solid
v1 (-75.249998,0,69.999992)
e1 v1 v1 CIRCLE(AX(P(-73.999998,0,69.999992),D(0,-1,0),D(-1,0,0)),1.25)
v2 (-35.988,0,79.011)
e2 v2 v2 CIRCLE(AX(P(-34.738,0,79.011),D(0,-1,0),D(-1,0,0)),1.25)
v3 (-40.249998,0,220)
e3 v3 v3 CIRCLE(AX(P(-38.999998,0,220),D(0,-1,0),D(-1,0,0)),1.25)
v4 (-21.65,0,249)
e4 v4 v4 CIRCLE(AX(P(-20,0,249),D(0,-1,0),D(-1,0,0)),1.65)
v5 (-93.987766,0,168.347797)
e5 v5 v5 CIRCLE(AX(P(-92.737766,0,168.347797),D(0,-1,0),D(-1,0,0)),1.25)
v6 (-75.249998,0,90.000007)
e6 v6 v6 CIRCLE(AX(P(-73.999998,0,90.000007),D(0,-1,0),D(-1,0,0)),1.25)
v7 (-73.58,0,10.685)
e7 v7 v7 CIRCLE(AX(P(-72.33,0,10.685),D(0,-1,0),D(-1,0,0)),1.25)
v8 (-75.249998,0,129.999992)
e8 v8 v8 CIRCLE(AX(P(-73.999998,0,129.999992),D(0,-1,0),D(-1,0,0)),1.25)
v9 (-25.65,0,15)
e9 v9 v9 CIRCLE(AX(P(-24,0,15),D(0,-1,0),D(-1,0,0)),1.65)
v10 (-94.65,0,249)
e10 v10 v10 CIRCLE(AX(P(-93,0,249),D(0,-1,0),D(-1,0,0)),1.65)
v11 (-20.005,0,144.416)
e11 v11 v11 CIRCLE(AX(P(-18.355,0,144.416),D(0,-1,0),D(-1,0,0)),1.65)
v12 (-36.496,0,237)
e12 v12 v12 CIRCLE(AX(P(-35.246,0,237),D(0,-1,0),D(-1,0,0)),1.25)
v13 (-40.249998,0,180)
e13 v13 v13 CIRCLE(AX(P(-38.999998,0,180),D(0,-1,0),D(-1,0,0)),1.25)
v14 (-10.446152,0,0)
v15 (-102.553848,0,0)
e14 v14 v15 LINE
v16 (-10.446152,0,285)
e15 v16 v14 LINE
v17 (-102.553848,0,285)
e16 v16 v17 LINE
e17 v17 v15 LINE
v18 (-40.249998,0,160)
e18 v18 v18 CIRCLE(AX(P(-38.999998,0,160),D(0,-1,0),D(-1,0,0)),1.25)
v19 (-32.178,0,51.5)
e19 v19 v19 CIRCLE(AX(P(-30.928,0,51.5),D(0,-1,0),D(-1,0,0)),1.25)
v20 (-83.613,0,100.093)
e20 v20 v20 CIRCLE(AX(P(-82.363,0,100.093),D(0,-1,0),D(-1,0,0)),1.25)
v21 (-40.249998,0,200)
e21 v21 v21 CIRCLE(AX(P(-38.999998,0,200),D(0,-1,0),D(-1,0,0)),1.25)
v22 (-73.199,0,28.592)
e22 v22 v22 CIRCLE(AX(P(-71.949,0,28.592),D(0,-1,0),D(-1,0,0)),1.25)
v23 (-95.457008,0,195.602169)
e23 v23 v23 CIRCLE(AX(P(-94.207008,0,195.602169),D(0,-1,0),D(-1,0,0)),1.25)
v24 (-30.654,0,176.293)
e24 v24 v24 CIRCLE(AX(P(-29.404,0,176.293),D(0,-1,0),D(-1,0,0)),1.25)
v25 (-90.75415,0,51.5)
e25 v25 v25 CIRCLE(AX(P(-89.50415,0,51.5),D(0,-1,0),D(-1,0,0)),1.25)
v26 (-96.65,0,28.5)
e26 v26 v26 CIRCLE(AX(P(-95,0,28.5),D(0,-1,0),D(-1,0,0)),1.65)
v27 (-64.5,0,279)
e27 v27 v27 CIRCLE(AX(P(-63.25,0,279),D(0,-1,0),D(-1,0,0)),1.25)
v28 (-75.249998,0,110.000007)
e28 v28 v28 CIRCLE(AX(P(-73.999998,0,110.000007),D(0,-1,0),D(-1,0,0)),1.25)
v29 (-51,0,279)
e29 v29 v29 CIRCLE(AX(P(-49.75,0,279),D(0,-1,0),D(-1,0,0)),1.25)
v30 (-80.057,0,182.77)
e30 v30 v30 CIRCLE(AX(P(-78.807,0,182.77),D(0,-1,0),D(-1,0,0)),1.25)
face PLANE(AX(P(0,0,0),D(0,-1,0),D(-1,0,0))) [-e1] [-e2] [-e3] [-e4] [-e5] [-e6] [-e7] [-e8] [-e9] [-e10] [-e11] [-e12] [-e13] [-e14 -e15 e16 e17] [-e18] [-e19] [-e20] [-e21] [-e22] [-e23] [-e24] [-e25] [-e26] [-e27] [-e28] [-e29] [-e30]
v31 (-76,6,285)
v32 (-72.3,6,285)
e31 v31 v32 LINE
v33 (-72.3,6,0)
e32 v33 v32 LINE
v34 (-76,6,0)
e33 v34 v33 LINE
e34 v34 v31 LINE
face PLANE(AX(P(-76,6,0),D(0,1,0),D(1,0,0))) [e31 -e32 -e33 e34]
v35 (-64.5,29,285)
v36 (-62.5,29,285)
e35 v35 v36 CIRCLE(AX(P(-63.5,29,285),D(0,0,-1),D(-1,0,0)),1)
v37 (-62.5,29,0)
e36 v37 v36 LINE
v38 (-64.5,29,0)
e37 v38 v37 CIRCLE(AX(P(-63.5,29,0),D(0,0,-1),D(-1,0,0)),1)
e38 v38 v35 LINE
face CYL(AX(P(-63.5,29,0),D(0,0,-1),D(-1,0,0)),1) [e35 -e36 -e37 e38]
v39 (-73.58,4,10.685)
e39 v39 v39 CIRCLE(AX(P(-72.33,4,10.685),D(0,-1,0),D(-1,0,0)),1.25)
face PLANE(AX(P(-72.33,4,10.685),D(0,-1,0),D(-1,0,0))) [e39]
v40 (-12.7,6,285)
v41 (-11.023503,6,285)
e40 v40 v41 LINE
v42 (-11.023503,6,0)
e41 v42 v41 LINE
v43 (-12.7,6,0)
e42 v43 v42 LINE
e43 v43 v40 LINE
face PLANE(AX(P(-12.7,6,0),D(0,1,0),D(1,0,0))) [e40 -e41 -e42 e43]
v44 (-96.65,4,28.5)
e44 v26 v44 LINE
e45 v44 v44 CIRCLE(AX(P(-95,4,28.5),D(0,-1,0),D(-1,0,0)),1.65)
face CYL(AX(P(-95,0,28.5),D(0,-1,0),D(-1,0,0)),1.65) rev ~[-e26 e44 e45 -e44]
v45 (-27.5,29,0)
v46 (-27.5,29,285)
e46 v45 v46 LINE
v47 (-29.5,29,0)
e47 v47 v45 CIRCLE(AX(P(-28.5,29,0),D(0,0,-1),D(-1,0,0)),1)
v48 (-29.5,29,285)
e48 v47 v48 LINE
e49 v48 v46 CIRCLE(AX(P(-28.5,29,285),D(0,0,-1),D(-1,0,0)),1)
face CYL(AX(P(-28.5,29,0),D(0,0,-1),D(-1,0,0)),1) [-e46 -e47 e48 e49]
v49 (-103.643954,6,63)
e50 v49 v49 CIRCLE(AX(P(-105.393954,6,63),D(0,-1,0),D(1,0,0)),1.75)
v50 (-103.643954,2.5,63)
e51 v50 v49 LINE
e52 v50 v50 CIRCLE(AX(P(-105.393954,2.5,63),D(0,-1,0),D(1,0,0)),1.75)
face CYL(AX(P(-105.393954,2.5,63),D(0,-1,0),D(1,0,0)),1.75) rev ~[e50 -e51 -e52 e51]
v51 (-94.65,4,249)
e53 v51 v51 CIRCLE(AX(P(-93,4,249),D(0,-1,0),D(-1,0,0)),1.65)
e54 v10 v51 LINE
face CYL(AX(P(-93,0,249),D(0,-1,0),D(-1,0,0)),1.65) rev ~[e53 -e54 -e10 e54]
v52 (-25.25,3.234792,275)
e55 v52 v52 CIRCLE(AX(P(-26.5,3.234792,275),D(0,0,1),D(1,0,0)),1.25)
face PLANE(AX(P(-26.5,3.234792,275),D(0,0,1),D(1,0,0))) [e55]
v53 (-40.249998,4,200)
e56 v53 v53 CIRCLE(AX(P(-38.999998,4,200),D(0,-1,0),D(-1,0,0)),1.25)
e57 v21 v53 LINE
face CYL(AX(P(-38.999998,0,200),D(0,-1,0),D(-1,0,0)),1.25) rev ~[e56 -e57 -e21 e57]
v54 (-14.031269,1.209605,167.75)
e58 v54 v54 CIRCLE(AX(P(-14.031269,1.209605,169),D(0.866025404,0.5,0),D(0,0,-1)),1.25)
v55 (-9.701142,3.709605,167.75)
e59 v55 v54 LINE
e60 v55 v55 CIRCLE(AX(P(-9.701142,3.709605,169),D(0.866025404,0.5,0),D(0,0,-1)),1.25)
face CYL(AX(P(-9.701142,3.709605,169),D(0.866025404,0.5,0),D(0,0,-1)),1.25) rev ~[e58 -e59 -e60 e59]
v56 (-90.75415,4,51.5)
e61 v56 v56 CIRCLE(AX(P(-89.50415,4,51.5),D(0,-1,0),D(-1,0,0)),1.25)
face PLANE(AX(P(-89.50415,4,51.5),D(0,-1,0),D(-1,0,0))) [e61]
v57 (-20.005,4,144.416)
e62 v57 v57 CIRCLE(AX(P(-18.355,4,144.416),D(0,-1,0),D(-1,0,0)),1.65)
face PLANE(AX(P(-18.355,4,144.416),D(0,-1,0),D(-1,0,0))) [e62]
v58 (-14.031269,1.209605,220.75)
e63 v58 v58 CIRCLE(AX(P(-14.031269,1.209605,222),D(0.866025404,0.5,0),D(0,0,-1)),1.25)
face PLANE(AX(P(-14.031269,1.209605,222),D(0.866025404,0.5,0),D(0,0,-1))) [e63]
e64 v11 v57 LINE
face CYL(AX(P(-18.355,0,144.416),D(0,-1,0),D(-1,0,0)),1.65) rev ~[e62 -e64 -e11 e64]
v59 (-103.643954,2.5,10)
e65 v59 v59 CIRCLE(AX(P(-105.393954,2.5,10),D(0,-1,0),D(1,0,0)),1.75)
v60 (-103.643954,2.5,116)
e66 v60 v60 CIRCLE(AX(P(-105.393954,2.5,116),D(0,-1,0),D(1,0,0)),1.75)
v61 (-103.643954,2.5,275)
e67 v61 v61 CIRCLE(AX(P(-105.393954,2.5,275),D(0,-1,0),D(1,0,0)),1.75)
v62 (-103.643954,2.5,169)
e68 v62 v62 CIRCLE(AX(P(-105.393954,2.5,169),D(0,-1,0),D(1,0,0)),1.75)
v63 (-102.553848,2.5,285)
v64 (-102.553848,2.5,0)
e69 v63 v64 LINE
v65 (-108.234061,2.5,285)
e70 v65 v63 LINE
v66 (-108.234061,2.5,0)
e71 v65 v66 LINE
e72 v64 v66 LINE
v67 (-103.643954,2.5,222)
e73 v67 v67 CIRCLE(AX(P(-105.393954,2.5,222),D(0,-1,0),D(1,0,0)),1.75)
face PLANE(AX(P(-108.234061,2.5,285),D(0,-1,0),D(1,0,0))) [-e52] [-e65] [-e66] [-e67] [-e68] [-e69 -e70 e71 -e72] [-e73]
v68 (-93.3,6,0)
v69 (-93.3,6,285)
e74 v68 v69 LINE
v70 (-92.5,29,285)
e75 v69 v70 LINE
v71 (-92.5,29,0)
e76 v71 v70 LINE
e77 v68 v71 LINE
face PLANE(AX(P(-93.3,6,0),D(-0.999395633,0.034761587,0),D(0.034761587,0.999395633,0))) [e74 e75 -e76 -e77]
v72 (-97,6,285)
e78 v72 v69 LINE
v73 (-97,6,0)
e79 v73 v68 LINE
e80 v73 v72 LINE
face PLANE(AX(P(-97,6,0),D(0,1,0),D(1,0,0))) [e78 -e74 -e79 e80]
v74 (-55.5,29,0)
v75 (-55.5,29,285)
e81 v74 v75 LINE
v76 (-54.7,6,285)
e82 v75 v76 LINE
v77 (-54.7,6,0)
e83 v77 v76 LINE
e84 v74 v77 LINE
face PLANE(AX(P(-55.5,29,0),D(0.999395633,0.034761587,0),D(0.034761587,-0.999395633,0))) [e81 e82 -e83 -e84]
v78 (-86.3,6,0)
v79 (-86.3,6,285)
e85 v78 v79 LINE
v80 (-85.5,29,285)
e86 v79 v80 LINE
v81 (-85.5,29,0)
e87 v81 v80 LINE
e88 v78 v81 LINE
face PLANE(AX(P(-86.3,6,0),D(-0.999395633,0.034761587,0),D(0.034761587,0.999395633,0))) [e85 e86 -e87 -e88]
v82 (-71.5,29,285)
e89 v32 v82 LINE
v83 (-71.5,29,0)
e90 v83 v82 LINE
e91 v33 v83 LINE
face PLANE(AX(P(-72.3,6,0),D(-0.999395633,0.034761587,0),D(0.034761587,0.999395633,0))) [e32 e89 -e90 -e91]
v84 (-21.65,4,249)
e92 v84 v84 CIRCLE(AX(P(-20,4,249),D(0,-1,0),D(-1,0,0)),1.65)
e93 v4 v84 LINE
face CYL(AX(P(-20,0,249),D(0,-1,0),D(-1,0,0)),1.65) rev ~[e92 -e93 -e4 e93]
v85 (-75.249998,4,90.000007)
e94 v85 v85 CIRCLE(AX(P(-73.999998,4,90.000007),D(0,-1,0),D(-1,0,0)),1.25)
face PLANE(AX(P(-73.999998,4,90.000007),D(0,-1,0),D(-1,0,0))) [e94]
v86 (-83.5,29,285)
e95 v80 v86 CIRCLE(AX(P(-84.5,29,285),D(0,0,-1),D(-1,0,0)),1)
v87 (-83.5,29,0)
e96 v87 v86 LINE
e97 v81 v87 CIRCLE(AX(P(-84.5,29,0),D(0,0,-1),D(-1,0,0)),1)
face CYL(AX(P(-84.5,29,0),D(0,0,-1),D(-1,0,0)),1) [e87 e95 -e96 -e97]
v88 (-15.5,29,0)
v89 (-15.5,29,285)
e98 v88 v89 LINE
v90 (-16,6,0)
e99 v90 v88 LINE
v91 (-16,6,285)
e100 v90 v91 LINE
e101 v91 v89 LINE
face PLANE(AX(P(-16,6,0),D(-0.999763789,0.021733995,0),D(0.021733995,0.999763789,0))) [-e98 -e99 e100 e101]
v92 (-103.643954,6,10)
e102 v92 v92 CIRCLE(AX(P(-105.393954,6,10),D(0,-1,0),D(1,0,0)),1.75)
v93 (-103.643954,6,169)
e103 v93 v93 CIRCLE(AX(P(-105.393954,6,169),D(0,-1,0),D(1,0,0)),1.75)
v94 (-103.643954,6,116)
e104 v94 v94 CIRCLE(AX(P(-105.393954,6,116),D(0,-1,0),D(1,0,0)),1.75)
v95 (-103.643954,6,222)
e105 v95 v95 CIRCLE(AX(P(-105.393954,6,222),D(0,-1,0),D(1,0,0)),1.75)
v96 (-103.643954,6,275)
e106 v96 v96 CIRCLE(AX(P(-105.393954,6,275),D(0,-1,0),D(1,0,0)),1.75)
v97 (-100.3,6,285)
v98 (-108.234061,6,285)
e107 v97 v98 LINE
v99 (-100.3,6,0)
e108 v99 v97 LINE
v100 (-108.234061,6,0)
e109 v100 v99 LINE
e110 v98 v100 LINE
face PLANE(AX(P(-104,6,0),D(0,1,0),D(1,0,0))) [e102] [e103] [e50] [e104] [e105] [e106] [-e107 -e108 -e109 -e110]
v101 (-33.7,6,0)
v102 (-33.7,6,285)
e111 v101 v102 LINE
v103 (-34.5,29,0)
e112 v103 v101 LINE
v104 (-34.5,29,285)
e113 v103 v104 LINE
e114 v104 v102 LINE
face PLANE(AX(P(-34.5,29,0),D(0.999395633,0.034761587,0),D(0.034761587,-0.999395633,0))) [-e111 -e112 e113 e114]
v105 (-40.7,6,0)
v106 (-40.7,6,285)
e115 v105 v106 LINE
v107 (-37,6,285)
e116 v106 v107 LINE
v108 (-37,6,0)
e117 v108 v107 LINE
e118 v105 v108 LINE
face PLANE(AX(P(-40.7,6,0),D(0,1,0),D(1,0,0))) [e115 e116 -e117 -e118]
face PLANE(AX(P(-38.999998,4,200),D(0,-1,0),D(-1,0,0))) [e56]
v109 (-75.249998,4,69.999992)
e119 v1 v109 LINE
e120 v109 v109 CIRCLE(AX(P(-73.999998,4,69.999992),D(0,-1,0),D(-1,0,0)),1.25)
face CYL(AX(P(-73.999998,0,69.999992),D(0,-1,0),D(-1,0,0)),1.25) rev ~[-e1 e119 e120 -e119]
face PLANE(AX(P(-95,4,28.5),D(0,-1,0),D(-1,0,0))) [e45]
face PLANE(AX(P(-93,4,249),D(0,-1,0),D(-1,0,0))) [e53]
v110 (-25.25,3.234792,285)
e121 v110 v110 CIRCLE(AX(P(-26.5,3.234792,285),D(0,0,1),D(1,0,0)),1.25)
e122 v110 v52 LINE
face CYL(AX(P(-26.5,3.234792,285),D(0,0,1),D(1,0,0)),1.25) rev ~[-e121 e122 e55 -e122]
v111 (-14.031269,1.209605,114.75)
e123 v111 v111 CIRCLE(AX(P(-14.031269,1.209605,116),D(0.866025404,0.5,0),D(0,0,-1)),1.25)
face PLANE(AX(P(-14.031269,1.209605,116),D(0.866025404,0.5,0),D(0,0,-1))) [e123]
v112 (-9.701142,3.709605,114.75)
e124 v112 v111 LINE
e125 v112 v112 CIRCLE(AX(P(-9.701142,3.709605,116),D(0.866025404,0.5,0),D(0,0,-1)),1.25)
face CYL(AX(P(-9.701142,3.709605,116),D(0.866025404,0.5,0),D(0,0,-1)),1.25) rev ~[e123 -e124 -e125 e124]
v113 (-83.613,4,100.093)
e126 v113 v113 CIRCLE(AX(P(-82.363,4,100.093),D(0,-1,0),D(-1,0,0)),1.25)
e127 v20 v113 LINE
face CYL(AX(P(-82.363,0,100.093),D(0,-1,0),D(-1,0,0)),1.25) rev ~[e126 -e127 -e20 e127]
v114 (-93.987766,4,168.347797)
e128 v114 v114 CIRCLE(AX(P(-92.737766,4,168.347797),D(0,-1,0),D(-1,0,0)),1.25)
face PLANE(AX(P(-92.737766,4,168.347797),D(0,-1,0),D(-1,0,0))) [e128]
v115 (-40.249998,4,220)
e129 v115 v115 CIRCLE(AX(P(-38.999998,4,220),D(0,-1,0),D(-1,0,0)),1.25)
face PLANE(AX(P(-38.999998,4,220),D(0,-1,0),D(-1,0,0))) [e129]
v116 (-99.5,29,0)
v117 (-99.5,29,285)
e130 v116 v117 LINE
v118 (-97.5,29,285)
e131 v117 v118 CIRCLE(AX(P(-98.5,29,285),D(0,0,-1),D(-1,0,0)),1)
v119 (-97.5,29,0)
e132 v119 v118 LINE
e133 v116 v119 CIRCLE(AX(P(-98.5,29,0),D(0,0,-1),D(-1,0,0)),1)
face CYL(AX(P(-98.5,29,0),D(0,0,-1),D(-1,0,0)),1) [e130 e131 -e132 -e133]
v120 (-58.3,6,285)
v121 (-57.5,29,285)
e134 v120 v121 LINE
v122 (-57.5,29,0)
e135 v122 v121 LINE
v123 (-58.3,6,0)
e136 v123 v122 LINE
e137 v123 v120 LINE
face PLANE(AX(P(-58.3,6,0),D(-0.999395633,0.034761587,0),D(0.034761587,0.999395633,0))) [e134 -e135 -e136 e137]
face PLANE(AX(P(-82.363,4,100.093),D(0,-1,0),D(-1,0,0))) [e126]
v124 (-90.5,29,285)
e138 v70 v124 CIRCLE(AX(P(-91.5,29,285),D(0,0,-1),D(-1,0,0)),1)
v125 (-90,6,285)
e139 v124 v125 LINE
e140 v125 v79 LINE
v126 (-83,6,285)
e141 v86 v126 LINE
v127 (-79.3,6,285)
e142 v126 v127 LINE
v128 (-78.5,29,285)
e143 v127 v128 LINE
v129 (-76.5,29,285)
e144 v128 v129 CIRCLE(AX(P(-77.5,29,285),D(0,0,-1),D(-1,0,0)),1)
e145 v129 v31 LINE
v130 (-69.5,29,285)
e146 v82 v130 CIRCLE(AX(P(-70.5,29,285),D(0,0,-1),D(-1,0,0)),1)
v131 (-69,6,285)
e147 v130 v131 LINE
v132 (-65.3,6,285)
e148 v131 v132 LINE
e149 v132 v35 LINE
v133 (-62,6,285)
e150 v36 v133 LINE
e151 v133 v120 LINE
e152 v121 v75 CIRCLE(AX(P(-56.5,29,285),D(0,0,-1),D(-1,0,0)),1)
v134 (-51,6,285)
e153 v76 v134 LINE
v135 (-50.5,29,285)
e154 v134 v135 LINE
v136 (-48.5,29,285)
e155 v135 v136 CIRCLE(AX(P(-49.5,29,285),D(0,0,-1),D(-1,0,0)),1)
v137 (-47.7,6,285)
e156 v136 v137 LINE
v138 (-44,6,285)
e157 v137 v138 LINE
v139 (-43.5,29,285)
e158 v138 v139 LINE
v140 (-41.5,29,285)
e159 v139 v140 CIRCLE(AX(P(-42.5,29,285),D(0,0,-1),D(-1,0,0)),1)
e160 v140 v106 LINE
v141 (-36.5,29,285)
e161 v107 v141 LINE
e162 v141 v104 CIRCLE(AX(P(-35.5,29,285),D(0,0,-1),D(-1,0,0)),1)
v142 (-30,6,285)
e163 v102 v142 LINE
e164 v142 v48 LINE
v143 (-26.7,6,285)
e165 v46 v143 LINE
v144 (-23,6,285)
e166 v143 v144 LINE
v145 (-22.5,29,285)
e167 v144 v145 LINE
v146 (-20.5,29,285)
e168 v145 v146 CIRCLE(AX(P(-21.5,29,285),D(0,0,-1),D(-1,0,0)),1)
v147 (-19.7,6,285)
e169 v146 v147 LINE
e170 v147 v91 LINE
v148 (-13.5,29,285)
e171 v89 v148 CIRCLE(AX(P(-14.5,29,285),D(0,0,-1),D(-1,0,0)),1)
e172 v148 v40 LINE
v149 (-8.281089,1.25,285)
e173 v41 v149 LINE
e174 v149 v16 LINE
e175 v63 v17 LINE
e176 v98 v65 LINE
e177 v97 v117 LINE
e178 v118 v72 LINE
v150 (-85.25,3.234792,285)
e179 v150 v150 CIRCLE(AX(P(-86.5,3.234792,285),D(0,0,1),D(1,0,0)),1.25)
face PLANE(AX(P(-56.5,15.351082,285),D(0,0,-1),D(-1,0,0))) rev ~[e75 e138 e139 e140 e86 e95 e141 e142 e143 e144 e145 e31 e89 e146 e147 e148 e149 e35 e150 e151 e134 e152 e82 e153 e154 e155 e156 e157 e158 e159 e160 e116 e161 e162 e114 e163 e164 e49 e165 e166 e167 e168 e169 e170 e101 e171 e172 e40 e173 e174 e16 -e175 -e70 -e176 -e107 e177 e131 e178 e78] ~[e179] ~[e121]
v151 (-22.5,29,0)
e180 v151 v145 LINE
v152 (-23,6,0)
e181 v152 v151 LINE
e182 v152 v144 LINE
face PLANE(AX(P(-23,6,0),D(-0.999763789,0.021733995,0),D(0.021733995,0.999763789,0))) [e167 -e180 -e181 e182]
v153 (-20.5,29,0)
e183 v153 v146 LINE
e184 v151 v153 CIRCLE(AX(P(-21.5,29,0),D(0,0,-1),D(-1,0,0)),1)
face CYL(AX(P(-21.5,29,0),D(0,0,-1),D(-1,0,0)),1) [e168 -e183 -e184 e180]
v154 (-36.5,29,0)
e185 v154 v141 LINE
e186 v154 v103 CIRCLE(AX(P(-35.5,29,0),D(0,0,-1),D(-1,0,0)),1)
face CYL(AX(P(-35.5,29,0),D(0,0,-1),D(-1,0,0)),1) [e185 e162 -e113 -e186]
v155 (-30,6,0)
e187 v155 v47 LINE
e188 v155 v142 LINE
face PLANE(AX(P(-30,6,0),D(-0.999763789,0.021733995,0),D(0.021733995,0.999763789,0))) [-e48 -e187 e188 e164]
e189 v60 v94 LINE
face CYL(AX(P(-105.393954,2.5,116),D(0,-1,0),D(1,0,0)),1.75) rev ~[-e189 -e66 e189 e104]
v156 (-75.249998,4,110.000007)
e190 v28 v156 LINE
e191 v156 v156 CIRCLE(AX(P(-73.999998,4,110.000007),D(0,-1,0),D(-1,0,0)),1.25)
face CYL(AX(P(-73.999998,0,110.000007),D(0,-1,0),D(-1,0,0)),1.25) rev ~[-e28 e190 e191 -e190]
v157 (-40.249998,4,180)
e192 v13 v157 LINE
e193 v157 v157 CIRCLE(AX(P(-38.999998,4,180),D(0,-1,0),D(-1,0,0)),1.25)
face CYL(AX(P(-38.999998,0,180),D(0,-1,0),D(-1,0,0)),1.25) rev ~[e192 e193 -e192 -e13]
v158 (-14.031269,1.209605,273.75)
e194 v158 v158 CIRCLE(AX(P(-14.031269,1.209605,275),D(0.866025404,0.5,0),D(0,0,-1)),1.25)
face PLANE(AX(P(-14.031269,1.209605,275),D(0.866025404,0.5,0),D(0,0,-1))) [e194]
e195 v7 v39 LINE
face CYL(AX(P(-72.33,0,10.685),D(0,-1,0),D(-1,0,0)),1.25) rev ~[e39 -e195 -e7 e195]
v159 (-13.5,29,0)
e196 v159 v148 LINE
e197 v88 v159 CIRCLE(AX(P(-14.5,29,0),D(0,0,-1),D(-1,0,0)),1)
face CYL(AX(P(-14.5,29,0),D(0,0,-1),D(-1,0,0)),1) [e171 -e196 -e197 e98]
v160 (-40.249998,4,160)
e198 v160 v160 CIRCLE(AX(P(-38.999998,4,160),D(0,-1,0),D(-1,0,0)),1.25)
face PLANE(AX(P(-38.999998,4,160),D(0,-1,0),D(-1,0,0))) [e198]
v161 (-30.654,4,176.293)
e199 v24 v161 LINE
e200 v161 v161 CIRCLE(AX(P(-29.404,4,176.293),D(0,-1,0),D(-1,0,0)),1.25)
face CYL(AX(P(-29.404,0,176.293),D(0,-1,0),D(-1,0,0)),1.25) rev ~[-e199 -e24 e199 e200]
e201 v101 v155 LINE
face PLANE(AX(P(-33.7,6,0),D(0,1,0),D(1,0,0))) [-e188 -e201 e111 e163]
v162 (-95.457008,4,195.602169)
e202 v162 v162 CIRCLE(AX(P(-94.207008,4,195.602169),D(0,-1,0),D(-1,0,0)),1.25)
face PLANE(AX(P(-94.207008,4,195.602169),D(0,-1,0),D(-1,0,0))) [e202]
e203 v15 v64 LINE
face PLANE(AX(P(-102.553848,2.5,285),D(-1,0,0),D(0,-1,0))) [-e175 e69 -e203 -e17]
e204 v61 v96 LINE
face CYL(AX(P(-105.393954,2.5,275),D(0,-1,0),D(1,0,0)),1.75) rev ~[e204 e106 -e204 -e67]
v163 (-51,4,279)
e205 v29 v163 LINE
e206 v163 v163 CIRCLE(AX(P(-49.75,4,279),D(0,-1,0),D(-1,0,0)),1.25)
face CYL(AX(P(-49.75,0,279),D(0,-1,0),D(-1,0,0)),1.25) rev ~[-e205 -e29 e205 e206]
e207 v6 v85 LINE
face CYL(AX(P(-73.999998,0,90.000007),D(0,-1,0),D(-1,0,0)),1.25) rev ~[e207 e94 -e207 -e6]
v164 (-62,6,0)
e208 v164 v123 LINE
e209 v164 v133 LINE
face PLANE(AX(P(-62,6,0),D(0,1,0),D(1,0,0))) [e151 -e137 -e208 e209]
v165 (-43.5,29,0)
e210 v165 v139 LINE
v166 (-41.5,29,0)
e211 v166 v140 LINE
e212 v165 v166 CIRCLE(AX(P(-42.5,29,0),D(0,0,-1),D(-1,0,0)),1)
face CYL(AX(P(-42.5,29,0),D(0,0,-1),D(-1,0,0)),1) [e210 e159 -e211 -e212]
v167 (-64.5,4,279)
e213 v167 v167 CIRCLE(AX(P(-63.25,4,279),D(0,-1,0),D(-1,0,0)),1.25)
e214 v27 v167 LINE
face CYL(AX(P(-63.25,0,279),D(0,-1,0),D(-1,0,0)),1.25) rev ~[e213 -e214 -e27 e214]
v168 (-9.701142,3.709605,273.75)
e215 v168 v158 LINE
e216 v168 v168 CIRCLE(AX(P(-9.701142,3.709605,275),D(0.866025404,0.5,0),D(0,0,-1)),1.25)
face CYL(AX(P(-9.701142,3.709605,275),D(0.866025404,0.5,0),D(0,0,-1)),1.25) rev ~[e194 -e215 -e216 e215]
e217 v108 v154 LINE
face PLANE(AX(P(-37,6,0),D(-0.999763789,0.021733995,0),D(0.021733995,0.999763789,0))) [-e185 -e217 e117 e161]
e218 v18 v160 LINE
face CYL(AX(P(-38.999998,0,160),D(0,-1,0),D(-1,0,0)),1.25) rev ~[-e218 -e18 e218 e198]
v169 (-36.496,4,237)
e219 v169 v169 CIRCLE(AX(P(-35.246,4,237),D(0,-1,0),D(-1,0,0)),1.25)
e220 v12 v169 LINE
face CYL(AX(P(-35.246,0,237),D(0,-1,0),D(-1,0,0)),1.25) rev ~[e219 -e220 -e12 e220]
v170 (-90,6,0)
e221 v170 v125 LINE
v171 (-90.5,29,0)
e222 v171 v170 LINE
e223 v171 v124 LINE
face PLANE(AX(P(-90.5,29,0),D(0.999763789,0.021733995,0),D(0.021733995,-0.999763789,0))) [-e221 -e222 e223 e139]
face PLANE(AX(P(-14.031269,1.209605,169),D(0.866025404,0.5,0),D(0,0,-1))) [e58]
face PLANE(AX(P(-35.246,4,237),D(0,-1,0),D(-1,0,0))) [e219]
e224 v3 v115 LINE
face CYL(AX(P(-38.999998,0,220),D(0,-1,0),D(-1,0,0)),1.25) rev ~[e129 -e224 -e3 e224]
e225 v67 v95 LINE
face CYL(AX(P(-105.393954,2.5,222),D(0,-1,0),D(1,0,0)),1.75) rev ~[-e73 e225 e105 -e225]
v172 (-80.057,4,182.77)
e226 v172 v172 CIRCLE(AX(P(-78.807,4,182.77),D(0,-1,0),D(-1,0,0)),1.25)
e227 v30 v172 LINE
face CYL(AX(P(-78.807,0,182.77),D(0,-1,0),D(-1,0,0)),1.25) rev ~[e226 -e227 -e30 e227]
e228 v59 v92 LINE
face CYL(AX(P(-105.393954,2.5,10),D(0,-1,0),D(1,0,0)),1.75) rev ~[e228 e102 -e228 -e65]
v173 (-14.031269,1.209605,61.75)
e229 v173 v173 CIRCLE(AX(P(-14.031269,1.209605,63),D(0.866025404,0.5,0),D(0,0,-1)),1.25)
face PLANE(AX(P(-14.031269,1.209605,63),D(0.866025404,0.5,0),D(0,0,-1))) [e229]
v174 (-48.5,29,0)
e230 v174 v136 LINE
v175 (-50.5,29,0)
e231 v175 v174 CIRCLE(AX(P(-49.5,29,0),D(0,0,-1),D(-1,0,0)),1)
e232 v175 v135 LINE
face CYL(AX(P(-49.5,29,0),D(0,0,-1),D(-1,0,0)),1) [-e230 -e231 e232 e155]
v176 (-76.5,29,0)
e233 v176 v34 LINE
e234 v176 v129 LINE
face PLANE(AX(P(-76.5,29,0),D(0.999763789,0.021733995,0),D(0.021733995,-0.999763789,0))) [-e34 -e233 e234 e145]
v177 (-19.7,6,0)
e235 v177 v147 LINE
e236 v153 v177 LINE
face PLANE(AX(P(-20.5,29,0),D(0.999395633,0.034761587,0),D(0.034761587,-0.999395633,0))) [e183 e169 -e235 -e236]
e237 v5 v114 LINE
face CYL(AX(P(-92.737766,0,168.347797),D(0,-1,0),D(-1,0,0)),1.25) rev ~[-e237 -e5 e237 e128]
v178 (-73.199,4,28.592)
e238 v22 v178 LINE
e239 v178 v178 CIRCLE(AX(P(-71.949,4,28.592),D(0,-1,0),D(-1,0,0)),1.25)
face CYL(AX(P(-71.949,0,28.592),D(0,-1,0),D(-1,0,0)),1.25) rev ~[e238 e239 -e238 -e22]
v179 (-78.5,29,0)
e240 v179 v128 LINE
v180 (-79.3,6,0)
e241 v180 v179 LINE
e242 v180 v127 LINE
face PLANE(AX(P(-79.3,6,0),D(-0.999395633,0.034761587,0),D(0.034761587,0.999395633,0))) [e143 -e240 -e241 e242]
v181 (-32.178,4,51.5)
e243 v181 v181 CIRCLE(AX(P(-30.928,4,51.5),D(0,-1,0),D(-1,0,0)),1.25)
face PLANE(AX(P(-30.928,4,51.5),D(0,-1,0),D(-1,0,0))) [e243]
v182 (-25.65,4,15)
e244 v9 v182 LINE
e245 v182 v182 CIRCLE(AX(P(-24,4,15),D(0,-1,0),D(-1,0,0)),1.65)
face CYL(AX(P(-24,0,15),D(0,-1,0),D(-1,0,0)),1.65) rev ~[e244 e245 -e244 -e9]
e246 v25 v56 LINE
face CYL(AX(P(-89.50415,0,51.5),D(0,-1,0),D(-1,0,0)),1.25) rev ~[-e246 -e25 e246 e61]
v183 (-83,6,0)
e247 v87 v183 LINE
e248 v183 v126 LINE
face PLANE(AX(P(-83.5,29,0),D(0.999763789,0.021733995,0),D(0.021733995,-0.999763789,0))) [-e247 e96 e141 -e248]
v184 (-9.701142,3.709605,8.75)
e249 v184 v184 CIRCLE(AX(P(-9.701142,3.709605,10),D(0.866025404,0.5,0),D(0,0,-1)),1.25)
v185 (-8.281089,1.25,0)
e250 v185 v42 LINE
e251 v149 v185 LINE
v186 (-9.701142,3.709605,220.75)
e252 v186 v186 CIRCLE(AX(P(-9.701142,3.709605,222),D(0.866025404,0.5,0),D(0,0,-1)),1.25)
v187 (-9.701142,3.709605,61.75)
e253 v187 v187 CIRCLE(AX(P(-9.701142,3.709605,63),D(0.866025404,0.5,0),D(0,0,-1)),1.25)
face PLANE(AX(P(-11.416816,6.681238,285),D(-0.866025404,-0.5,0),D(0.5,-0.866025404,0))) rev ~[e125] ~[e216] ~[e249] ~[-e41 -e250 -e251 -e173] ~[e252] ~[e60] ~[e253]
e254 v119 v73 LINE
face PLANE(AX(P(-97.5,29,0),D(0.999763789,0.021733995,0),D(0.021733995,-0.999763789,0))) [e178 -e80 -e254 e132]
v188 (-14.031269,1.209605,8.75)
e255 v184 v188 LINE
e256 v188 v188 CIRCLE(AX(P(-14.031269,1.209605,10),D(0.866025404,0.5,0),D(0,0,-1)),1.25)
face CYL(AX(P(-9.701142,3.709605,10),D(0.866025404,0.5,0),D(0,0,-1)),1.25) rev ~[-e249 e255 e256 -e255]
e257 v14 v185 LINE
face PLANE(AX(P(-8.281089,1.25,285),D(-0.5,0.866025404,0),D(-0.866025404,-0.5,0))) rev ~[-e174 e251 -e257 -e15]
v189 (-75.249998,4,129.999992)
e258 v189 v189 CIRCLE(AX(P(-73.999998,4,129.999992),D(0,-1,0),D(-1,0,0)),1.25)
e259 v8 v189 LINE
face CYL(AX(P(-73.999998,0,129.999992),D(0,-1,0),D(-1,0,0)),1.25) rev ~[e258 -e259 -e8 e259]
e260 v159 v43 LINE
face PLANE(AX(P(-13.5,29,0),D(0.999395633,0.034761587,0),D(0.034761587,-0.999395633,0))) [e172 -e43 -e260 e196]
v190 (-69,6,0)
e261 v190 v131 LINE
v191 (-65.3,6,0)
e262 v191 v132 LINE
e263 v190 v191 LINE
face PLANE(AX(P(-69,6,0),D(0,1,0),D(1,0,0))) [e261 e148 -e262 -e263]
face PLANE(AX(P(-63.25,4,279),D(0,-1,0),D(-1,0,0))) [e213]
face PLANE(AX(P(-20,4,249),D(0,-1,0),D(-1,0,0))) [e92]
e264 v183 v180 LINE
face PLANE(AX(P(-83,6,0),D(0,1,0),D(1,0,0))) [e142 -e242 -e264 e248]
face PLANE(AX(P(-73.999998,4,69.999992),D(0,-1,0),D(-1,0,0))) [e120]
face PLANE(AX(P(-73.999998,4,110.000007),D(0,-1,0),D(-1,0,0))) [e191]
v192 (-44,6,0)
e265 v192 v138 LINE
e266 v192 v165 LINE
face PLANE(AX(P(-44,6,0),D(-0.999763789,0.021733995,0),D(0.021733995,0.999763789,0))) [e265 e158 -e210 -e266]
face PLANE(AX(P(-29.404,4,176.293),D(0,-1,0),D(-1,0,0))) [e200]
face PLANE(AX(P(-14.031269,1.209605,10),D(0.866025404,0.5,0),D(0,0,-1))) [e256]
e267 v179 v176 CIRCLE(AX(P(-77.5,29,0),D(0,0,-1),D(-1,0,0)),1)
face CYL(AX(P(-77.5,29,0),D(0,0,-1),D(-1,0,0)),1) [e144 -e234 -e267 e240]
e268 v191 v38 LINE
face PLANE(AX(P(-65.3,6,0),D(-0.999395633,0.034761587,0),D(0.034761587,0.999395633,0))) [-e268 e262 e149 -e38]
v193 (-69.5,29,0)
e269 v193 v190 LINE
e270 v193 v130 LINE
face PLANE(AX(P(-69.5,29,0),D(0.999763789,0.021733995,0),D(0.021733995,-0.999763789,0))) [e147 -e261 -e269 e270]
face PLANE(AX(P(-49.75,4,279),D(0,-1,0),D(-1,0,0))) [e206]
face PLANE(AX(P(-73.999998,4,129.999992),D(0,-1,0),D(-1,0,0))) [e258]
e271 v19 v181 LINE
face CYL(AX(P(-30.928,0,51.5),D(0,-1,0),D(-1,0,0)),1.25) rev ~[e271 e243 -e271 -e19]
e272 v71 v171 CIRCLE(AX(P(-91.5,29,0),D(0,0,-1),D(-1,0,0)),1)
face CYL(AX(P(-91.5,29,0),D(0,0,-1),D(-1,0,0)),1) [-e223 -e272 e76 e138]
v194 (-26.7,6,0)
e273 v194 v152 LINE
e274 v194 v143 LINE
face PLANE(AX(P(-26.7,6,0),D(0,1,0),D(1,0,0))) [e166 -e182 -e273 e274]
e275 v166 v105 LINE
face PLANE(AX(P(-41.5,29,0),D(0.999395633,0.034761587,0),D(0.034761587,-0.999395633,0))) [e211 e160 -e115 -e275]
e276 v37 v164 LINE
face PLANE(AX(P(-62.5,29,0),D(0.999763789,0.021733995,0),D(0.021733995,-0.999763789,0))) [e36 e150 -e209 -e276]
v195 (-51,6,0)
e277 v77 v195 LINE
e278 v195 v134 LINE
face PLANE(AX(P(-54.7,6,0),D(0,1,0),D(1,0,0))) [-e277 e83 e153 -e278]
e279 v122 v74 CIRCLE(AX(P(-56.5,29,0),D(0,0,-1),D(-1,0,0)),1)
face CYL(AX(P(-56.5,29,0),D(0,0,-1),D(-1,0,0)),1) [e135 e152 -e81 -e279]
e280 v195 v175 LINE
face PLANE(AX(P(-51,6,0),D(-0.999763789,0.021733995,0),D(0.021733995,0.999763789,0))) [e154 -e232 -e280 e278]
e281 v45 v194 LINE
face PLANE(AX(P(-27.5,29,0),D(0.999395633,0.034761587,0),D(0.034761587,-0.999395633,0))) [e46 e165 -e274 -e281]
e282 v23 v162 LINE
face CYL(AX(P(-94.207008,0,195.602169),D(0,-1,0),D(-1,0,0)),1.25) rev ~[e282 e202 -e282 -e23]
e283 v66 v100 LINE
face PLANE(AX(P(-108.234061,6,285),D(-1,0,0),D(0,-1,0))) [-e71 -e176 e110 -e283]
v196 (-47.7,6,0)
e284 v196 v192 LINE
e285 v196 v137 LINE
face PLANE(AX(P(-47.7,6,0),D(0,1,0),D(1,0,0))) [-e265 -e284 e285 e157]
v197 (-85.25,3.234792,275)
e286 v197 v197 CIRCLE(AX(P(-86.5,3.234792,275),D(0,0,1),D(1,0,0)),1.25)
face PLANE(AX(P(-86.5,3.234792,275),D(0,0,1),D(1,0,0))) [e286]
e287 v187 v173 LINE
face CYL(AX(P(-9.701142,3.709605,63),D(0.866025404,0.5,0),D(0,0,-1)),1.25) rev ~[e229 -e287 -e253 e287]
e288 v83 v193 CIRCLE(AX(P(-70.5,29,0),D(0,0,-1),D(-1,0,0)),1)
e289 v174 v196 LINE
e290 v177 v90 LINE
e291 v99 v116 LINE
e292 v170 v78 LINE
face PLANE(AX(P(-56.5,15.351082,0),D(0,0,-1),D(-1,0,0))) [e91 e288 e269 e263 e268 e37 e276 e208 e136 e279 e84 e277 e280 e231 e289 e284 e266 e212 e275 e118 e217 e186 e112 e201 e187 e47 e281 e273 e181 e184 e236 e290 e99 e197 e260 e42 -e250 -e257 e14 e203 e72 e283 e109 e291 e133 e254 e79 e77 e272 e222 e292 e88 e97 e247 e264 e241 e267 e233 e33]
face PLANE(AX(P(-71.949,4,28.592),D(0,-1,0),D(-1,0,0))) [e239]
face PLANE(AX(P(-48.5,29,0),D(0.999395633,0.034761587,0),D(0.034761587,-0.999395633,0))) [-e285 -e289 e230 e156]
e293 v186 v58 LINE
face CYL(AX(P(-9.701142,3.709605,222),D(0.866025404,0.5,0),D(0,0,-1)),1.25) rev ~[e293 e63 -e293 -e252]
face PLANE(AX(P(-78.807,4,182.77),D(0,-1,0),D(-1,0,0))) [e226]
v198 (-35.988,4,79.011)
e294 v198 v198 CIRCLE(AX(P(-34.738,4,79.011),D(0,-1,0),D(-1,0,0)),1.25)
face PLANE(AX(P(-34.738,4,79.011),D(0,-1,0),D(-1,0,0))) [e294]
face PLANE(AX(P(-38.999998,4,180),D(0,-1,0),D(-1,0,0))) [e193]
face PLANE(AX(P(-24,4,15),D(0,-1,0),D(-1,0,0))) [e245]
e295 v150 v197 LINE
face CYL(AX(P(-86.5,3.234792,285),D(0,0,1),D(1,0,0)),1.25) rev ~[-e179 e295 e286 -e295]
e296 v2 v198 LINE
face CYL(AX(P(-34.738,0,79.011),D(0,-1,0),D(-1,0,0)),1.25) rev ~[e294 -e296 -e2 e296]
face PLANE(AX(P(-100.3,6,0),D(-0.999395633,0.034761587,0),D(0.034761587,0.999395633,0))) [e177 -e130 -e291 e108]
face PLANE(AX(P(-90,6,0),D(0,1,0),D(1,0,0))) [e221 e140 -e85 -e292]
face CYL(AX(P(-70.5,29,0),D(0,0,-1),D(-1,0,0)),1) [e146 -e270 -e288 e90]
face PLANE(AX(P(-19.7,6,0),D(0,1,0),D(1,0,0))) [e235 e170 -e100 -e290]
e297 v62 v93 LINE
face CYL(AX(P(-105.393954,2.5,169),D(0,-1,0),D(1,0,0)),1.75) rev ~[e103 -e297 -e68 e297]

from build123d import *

# Parameters (mm, degrees)
RESSALTO_EXTRUS_O1_DEPTH   = 285
CORTE_EXTRUS_O1_DEPTH      = 1
CORTE_EXTRUS_O1_DEPTH_BACK = 286
ESBO_O4_R                  = 1.25
CORTE_EXTRUS_O3_DEPTH      = 10
ESBO_O7_R                  = 1.65
ESBO_O7_R_2                = 1.25
CORTE_EXTRUS_O5_DEPTH      = 4
ESBO_O13_R                 = 1.75
CORTE_EXTRUS_O8_DEPTH      = 3.5
CORTE_EXTRUS_O8_DEPTH_BACK = 28.5
ESBO_O14_R                 = 1.25
CORTE_EXTRUS_O9_DEPTH      = 5


with BuildPart() as part:
    # Esboço1 → Ressalto-extrusão1 (new body)
    with BuildSketch(Plane.XY):
        with BuildLine():
            Line((0, 0), (-113, 0))
            Line((-113, 0), (-113, 30))
            Line((-113, 30), (-111, 30))
            Line((-111, 30), (-111, 6))
            Line((-111, 6), (-107.3, 6))
            Line((-107.3, 6), (-106.5, 29))
            ThreePointArc((-106.5, 29), (-105.5, 30), (-104.5, 29))
            Line((-104.5, 29), (-104, 6))
            Line((-104, 6), (-100.3, 6))
            Line((-100.3, 6), (-99.5, 29))
            ThreePointArc((-99.5, 29), (-98.5, 30), (-97.5, 29))
            Line((-97.5, 29), (-97, 6))
            Line((-97, 6), (-93.3, 6))
            Line((-93.3, 6), (-92.5, 29))
            ThreePointArc((-92.5, 29), (-91.5, 30), (-90.5, 29))
            Line((-90.5, 29), (-90, 6))
            Line((-90, 6), (-86.3, 6))
            Line((-86.3, 6), (-85.5, 29))
            ThreePointArc((-85.5, 29), (-84.5, 30), (-83.5, 29))
            Line((-83.5, 29), (-83, 6))
            Line((-83, 6), (-79.3, 6))
            Line((-79.3, 6), (-78.5, 29))
            ThreePointArc((-78.5, 29), (-77.5, 30), (-76.5, 29))
            Line((-76.5, 29), (-76, 6))
            Line((-76, 6), (-72.3, 6))
            Line((-72.3, 6), (-71.5, 29))
            ThreePointArc((-71.5, 29), (-70.5, 30), (-69.5, 29))
            Line((-69.5, 29), (-69, 6))
            Line((-69, 6), (-65.3, 6))
            Line((-65.3, 6), (-64.5, 29))
            ThreePointArc((-64.5, 29), (-63.5, 30), (-62.5, 29))
            Line((-62.5, 29), (-62, 6))
            Line((-62, 6), (-58.3, 6))
            Line((-58.3, 6), (-57.5, 29))
            ThreePointArc((-57.5, 29), (-56.5, 30), (-55.5, 29))
            Line((-55.5, 29), (-54.7, 6))
            Line((-54.7, 6), (-51, 6))
            Line((-51, 6), (-50.5, 29))
            ThreePointArc((-50.5, 29), (-49.5, 30), (-48.5, 29))
            Line((-48.5, 29), (-47.7, 6))
            Line((-47.7, 6), (-44, 6))
            Line((-44, 6), (-43.5, 29))
            ThreePointArc((-43.5, 29), (-42.5, 30), (-41.5, 29))
            Line((-41.5, 29), (-40.7, 6))
            Line((-40.7, 6), (-37, 6))
            Line((-37, 6), (-36.5, 29))
            ThreePointArc((-36.5, 29), (-35.5, 30), (-34.5, 29))
            Line((-34.5, 29), (-33.7, 6))
            Line((-33.7, 6), (-30, 6))
            Line((-30, 6), (-29.5, 29))
            ThreePointArc((-29.5, 29), (-28.5, 30), (-27.5, 29))
            Line((-27.5, 29), (-26.7, 6))
            Line((-26.7, 6), (-23, 6))
            Line((-23, 6), (-22.5, 29))
            ThreePointArc((-22.5, 29), (-21.5, 30), (-20.5, 29))
            Line((-20.5, 29), (-19.7, 6))
            Line((-19.7, 6), (-16, 6))
            Line((-16, 6), (-15.5, 29))
            ThreePointArc((-15.5, 29), (-14.5, 30), (-13.5, 29))
            Line((-13.5, 29), (-12.7, 6))
            Line((-12.7, 6), (-9, 6))
            Line((-9, 6), (-8.5, 29))
            ThreePointArc((-8.5, 29), (-7.5, 30), (-6.5, 29))
            Line((-6.5, 29), (-5.7, 6))
            Line((-5.7, 6), (-2, 6))
            Line((-2, 6), (-2, 30))
            Line((-2, 30), (0, 30))
            Line((0, 30), (0, 0))
        make_face()
    extrude(amount=RESSALTO_EXTRUS_O1_DEPTH)

    # Esboço2 → Corte-extrusão1 (cut, two sides)
    with BuildSketch(Plane.XY.offset(285)) as corte_extrus_o1_sk:
        Polygon((-102.890485004, 6), (-108.234061138, 6), (-108.234061138, 2.5), (-102.553847577, 2.5), (-102.553847577, 0), (-107.964469124, -3.436706701), (-125.556799279, -3.436706701), (-125.556799279, 31.540588642), (-102.890485004, 31.540588642), align=None)
        Polygon((-8.281088913, 1.25), (-10.446152423, 0), (0, 0), (0, 38.558769493), (-11.416815759, 38.558769493), (-11.416815759, 6.681238216), align=None)
    extrude(amount=CORTE_EXTRUS_O1_DEPTH, mode=Mode.SUBTRACT)
    extrude(corte_extrus_o1_sk.sketch, amount=-CORTE_EXTRUS_O1_DEPTH_BACK, mode=Mode.SUBTRACT)

    # Esboço4 → Corte-extrusão3 (cut)
    with BuildSketch(Plane.XY.offset(285)):
        with Locations((-26.5, 3.234792224)):
            Circle(ESBO_O4_R)
        with Locations((-86.5, 3.234792224)):
            Circle(ESBO_O4_R)
    extrude(amount=-CORTE_EXTRUS_O3_DEPTH, mode=Mode.SUBTRACT)

    # Esboço7 → Corte-extrusão5 (cut)
    with BuildSketch(Plane(origin=(0, 0, 0), x_dir=(-1, 0, 0), z_dir=(0, -1, 0))):
        with Locations((95, -28.5)):
            Circle(ESBO_O7_R)
        with Locations((71.949, -28.592)):
            Circle(ESBO_O7_R_2)
        with Locations((72.33, -10.685)):
            Circle(ESBO_O7_R_2)
        with Locations((30.928, -51.5)):
            Circle(ESBO_O7_R_2)
        with Locations((24, -15)):
            Circle(ESBO_O7_R)
        with Locations((34.738, -79.011)):
            Circle(ESBO_O7_R_2)
        with Locations((18.355, -144.416)):
            Circle(ESBO_O7_R)
        with Locations((20, -249)):
            Circle(ESBO_O7_R)
        with Locations((35.246, -237)):
            Circle(ESBO_O7_R_2)
        with Locations((93, -249)):
            Circle(ESBO_O7_R)
        with Locations((78.807, -182.77)):
            Circle(ESBO_O7_R_2)
        with Locations((82.363, -100.093)):
            Circle(ESBO_O7_R_2)
        with Locations((29.404, -176.293)):
            Circle(ESBO_O7_R_2)
        with Locations((38.999998474, -219.999999573)):
            Circle(ESBO_O7_R_2)
        with Locations((38.999998474, -199.999999573)):
            Circle(ESBO_O7_R_2)
        with Locations((38.999998474, -179.999999573)):
            Circle(ESBO_O7_R_2)
        with Locations((38.999998474, -159.999999573)):
            Circle(ESBO_O7_R_2)
        with Locations((73.999998474, -129.999991943)):
            Circle(ESBO_O7_R_2)
        with Locations((73.999998474, -110.000007202)):
            Circle(ESBO_O7_R_2)
        with Locations((73.999998474, -90.000007202)):
            Circle(ESBO_O7_R_2)
        with Locations((73.999998474, -69.999991943)):
            Circle(ESBO_O7_R_2)
        with Locations((92.737766412, -168.347796909)):
            Circle(ESBO_O7_R_2)
        with Locations((94.207008215, -195.602168929)):
            Circle(ESBO_O7_R_2)
        with Locations((89.504149751, -51.5)):
            Circle(ESBO_O7_R_2)
        with Locations((49.75, -279)):
            Circle(ESBO_O7_R_2)
        with Locations((63.25, -279)):
            Circle(ESBO_O7_R_2)
    extrude(amount=-CORTE_EXTRUS_O5_DEPTH, mode=Mode.SUBTRACT)

    # Esboço13 → Corte-extrusão8 (cut, two sides)
    with BuildSketch(Plane.XZ.offset(-2.5)) as corte_extrus_o8_sk:
        with Locations((-105.393954358, 275)):
            Circle(ESBO_O13_R)
        with Locations((-105.393954358, 222)):
            Circle(ESBO_O13_R)
        with Locations((-105.393954358, 169)):
            Circle(ESBO_O13_R)
        with Locations((-105.393954358, 63)):
            Circle(ESBO_O13_R)
        with Locations((-105.393954358, 10)):
            Circle(ESBO_O13_R)
        with Locations((-105.393954358, 116)):
            Circle(ESBO_O13_R)
    extrude(amount=CORTE_EXTRUS_O8_DEPTH, mode=Mode.SUBTRACT)
    extrude(corte_extrus_o8_sk.sketch, amount=-CORTE_EXTRUS_O8_DEPTH_BACK, mode=Mode.SUBTRACT)

    # Esboço14 → Corte-extrusão9 (cut)
    with BuildSketch(Plane(origin=(-5.669550808, -3.273316685, 0), x_dir=(0, 0, -1), z_dir=(0.866025404, 0.5, 0))):
        with Locations((-275, 8.063182992)):
            Circle(ESBO_O14_R)
        with Locations((-222, 8.063182992)):
            Circle(ESBO_O14_R)
        with Locations((-169, 8.063182992)):
            Circle(ESBO_O14_R)
        with Locations((-116, 8.063182992)):
            Circle(ESBO_O14_R)
        with Locations((-63, 8.063182992)):
            Circle(ESBO_O14_R)
        with Locations((-10, 8.063182992)):
            Circle(ESBO_O14_R)
    extrude(amount=-CORTE_EXTRUS_O9_DEPTH, mode=Mode.SUBTRACT)


solid = part.part
